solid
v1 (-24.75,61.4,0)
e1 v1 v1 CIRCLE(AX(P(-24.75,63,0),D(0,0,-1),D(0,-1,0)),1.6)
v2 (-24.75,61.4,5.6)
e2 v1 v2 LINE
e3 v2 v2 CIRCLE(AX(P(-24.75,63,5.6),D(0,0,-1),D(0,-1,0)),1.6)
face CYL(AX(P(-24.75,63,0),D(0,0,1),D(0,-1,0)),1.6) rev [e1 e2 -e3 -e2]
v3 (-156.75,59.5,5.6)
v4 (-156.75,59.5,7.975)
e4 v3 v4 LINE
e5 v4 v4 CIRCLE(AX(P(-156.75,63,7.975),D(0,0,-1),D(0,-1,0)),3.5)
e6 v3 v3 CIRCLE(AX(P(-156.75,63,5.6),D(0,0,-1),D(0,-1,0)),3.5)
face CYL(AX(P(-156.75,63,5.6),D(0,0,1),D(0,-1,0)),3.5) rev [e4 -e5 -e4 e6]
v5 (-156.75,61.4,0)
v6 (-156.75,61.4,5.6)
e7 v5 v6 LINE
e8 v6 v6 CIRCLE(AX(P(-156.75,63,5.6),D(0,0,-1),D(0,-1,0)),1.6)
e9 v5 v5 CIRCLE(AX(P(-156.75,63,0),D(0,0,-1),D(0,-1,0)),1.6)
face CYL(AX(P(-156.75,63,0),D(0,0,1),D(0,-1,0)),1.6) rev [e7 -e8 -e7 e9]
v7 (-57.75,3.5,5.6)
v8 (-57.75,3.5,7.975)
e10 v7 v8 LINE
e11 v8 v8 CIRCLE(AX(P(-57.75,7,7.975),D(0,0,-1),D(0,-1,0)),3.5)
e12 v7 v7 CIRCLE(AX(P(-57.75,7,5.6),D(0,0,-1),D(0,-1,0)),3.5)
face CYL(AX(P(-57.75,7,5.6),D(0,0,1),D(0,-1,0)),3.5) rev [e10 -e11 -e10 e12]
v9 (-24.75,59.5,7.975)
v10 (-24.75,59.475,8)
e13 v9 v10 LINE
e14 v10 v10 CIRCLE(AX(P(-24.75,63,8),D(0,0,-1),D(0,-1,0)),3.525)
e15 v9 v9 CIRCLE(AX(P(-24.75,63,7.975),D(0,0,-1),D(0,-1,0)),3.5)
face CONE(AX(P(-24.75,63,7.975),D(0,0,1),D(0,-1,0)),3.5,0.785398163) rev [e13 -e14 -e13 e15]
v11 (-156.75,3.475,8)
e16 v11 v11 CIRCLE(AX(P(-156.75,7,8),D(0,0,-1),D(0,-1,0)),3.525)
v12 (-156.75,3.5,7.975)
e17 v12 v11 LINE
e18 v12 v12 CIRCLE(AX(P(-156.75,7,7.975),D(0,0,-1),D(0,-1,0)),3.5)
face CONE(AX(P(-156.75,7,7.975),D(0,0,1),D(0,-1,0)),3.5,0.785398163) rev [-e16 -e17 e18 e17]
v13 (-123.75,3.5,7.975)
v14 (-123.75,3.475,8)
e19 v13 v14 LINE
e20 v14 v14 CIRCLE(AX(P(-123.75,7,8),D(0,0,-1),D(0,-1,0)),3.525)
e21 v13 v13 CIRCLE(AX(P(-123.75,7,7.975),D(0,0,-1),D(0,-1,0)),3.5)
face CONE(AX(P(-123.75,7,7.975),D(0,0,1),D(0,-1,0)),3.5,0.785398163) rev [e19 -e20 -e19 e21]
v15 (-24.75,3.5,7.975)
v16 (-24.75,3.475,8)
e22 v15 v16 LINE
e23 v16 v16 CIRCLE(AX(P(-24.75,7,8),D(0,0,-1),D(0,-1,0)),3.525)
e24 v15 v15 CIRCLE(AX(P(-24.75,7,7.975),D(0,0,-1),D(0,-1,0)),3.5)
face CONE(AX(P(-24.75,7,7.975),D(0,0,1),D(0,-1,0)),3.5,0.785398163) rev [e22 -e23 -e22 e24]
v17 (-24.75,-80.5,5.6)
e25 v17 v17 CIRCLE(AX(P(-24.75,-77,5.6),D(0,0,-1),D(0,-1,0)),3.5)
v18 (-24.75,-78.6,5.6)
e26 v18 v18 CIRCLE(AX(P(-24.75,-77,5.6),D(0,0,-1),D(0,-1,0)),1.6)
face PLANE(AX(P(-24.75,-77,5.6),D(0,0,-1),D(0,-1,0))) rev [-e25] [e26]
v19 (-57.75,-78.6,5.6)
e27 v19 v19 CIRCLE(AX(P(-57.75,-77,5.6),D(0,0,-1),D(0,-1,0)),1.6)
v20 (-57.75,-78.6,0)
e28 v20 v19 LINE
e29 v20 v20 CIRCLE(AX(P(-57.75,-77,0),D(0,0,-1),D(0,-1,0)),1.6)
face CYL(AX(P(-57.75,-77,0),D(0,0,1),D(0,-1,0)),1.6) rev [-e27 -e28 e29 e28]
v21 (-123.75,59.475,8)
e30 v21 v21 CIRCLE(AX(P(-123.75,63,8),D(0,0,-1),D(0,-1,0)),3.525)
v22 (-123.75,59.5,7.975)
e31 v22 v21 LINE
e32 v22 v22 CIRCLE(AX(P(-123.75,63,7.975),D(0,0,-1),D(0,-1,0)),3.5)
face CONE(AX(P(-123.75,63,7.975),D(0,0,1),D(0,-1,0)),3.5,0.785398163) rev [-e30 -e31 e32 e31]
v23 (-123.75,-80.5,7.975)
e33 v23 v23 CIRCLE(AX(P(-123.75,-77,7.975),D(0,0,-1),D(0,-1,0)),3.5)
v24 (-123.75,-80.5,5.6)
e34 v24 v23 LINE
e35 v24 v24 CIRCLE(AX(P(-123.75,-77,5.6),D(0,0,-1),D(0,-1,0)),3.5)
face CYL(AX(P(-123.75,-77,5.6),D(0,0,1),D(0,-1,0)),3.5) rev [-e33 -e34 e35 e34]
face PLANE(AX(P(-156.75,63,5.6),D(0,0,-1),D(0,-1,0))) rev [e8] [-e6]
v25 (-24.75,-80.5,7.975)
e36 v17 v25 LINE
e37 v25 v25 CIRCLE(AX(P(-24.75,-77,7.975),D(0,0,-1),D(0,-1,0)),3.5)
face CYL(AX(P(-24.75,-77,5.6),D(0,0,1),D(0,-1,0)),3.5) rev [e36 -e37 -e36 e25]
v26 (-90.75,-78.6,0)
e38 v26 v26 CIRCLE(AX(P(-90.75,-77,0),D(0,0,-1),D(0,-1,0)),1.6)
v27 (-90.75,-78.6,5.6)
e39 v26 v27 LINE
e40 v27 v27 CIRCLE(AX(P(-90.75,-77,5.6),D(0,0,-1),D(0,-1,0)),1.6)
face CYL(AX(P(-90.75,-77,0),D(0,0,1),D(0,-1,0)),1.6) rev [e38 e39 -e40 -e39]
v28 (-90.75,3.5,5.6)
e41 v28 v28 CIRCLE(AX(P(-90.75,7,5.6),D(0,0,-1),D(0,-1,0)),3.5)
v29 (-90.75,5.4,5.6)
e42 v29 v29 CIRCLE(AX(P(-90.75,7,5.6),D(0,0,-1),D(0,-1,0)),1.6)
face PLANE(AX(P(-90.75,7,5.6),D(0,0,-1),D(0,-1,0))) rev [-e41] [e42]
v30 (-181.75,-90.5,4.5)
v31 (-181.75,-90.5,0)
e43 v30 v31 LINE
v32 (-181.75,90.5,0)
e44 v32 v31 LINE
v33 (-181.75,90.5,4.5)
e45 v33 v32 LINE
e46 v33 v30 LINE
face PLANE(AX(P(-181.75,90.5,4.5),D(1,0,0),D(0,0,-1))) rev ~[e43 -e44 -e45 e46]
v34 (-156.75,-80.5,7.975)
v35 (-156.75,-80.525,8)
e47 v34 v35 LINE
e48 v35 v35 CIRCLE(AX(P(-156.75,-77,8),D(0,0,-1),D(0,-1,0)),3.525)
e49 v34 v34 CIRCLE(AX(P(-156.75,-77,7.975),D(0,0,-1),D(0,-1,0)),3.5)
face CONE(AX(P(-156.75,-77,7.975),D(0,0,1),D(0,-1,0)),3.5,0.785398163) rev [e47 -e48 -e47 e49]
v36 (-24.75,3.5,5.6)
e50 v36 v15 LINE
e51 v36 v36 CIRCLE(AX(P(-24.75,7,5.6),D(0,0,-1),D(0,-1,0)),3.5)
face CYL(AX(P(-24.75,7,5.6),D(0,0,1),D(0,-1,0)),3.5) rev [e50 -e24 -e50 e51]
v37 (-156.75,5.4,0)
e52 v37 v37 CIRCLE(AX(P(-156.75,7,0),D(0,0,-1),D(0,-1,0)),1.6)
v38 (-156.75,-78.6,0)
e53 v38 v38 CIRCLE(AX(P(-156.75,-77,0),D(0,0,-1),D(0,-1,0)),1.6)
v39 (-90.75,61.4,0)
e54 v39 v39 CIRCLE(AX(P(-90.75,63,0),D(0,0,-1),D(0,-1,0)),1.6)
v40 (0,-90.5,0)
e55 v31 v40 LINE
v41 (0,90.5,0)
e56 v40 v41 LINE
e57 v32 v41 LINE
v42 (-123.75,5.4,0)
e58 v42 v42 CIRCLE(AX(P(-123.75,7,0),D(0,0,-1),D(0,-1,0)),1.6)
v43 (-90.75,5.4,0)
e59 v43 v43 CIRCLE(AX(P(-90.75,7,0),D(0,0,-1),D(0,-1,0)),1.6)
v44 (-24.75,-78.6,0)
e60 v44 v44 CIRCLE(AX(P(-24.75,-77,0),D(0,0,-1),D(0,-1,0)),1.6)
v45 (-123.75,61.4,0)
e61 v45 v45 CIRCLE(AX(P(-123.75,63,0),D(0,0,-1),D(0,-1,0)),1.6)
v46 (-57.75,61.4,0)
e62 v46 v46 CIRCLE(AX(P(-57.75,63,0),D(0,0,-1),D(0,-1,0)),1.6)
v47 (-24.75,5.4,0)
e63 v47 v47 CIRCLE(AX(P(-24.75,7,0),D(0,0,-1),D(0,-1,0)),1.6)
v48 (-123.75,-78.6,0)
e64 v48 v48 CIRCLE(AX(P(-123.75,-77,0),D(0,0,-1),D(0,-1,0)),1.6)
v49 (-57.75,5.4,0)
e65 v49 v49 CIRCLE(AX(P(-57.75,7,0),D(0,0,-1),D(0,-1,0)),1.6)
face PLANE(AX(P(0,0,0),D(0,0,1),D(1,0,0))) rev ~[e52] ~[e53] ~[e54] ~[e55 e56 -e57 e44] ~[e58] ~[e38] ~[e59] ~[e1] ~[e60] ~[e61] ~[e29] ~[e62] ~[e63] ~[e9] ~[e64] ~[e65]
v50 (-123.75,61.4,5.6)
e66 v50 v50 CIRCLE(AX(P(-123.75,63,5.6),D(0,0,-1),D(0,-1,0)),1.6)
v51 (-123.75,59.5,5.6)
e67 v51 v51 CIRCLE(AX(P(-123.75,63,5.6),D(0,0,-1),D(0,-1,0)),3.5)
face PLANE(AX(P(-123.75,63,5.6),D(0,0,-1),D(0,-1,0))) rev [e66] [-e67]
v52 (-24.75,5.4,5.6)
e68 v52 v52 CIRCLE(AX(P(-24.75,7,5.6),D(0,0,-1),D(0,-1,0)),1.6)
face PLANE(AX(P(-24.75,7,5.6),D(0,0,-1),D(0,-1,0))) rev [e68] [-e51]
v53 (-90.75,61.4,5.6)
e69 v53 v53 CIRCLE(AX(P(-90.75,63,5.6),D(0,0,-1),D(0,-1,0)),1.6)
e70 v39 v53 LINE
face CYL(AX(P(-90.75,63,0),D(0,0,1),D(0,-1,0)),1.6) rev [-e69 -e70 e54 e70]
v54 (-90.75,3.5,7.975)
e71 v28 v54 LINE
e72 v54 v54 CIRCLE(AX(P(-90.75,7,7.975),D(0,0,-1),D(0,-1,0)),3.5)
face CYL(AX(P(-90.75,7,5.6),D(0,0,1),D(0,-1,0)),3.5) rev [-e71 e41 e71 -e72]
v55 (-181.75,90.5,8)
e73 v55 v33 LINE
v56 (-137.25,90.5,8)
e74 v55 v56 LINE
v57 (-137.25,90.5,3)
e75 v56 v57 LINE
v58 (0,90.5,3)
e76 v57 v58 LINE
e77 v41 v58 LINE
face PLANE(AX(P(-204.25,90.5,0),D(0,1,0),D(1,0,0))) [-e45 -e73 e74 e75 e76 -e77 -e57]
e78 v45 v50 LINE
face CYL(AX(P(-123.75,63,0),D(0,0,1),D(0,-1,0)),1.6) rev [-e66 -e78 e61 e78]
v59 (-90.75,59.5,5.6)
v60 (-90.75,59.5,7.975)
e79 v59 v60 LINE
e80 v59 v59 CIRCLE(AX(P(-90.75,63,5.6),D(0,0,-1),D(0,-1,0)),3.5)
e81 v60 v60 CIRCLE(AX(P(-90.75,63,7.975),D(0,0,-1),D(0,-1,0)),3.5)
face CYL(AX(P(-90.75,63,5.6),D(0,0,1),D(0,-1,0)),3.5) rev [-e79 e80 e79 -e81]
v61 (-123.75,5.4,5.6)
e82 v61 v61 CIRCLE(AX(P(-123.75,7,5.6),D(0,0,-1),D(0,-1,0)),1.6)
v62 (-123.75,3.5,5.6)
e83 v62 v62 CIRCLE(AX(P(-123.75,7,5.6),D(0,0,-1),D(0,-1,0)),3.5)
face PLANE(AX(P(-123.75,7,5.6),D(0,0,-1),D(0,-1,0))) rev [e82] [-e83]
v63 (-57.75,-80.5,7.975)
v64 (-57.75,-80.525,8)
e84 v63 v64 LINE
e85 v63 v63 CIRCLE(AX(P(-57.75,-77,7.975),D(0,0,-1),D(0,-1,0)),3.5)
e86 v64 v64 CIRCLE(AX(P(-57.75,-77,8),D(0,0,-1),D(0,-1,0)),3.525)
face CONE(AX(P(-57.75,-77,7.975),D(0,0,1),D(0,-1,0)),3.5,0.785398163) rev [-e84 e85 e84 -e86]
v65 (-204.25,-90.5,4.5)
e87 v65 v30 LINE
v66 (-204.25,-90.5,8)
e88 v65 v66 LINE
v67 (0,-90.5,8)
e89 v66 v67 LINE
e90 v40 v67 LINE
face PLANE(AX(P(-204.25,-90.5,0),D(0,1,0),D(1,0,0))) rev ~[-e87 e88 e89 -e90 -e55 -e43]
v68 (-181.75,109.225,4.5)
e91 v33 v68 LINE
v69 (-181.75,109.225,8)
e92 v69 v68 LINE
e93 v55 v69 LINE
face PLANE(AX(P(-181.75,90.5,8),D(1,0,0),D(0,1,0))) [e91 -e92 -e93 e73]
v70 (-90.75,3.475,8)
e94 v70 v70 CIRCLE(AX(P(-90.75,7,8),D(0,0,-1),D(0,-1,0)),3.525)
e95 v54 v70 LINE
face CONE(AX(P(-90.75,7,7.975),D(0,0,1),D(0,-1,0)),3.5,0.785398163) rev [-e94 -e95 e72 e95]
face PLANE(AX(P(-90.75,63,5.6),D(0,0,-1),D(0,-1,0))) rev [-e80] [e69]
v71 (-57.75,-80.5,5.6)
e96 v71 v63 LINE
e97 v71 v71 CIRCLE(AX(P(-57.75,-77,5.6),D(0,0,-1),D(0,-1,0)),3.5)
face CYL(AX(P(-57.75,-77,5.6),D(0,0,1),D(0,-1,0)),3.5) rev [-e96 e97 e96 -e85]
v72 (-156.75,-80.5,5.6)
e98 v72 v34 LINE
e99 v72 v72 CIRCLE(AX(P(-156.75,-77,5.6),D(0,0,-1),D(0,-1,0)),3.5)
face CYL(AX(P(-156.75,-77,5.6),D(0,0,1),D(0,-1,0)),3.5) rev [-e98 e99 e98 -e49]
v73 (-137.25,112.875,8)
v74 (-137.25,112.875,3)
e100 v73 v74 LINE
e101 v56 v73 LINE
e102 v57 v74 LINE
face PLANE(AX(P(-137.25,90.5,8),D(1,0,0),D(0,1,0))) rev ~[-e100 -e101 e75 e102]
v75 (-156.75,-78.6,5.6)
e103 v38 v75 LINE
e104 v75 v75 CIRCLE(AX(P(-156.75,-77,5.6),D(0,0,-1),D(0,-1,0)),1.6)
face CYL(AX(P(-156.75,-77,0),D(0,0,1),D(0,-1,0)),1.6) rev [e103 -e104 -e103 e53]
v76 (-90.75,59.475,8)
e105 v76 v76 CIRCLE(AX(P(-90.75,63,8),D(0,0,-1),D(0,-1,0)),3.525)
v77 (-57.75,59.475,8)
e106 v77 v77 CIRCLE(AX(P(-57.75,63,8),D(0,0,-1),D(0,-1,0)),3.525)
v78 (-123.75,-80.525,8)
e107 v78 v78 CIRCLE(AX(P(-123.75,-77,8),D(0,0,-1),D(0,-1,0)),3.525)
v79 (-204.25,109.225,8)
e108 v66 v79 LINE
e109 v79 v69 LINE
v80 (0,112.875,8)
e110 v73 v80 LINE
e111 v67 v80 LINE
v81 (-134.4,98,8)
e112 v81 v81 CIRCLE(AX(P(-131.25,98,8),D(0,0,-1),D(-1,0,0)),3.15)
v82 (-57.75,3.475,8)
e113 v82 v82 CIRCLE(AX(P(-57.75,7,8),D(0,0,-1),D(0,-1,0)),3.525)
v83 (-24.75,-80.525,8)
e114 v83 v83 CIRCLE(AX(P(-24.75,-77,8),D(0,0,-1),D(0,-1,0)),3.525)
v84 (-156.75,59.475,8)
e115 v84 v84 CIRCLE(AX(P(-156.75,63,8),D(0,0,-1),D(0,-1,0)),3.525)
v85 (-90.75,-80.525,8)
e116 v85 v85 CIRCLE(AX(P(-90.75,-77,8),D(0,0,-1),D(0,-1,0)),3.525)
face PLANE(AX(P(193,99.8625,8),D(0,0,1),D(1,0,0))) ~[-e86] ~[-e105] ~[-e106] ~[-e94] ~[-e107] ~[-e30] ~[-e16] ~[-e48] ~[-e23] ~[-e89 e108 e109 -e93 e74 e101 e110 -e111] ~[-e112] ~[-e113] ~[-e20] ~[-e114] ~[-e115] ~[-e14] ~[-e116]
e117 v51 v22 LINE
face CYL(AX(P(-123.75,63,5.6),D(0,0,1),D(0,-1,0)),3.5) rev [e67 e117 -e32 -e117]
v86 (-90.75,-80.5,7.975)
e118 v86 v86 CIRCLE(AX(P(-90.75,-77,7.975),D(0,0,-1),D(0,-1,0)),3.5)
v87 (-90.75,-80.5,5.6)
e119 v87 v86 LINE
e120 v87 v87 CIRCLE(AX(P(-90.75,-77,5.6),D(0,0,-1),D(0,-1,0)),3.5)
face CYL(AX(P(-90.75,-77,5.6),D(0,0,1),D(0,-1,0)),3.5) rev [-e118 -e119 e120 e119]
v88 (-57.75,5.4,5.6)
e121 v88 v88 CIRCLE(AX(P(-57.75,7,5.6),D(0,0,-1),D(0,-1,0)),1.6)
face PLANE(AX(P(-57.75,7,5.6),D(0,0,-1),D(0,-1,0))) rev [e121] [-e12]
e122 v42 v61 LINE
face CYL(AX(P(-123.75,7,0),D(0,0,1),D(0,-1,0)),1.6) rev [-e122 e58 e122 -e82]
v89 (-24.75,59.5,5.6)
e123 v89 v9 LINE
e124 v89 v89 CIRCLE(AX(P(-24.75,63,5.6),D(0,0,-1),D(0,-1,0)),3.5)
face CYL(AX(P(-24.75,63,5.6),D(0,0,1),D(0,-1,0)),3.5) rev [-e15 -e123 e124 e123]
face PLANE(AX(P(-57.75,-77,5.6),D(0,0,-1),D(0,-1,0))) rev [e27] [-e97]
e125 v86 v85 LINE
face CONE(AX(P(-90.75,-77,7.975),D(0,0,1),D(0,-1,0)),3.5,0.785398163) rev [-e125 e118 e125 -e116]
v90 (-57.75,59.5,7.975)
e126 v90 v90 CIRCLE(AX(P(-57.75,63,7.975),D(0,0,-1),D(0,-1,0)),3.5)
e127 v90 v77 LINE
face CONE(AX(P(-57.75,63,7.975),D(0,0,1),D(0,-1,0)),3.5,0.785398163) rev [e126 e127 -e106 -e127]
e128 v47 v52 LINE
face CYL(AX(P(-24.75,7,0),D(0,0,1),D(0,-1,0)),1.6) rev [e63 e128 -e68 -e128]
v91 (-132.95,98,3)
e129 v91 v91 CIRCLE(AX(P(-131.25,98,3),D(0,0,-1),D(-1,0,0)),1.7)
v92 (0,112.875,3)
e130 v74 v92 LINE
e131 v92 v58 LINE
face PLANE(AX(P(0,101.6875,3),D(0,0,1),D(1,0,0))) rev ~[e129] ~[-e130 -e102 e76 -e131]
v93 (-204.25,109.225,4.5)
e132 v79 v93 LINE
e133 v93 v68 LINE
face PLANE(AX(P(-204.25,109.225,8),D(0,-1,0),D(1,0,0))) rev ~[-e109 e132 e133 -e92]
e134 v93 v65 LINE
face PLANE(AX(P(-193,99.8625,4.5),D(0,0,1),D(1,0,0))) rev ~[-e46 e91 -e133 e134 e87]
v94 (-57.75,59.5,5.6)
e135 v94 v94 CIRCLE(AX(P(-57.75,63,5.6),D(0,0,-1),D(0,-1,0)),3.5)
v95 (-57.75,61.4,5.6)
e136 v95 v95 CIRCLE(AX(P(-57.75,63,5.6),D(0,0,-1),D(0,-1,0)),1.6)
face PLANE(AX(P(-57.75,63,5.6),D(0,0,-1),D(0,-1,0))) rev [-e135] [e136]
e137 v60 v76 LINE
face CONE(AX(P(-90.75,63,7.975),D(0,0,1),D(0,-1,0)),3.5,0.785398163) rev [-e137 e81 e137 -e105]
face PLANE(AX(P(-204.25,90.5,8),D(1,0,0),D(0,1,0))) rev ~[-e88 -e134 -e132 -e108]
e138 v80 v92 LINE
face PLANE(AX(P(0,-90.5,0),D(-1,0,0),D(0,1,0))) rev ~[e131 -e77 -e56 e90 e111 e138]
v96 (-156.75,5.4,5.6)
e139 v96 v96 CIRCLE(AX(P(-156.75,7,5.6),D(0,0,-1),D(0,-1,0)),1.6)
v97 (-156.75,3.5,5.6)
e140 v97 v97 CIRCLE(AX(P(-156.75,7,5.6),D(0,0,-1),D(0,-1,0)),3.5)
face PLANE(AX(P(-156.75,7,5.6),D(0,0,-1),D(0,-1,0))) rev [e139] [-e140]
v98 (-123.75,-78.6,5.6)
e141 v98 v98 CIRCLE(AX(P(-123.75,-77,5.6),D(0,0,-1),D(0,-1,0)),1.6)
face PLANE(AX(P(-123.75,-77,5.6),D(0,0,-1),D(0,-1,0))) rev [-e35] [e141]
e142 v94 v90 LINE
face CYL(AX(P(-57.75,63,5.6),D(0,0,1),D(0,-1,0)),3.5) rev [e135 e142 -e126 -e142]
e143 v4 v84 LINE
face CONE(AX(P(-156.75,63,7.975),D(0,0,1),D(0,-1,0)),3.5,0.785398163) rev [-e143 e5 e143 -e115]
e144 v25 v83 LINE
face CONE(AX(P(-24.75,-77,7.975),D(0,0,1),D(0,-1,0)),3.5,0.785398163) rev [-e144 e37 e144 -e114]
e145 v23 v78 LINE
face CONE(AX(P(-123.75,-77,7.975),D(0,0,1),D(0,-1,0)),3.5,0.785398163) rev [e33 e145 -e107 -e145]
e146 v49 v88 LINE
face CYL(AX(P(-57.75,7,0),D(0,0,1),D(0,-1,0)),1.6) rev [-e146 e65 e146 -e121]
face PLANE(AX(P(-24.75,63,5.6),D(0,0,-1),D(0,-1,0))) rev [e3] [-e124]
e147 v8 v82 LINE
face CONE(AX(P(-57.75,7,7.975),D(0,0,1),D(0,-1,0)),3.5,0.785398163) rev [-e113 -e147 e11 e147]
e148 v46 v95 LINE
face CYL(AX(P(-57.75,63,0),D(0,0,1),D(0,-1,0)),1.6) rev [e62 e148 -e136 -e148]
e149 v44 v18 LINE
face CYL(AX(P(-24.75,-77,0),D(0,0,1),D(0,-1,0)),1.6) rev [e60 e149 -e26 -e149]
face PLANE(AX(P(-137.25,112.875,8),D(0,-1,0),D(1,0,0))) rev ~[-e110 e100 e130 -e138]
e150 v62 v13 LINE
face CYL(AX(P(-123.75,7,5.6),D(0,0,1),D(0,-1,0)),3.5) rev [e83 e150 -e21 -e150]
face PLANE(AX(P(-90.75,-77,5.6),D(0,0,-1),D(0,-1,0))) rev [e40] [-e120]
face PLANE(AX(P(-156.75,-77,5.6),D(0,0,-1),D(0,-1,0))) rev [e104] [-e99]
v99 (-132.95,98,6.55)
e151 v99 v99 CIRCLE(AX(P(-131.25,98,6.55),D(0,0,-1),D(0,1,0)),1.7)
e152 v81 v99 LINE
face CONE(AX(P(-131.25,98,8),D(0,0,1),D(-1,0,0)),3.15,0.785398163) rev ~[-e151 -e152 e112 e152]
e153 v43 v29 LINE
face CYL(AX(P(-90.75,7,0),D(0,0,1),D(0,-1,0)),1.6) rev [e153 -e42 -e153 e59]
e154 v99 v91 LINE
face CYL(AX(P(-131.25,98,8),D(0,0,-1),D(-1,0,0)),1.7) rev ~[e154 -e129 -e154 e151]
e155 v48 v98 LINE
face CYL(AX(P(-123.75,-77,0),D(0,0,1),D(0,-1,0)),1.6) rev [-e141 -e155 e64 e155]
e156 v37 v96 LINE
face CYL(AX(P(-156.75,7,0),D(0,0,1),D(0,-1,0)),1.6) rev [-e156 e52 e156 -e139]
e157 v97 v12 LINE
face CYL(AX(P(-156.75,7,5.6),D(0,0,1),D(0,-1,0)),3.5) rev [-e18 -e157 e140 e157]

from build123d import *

# Parameters (mm, degrees)
ESQUISSE1_W                                    = 408.5
ESQUISSE1_H                                    = 181
BOSS_EXTRU_1_DEPTH                             = 8
CHAMBRAGE_POUR_VIS_T_TE_RONDE_BOMB_2_COUNT     = 2
CHAMBRAGE_POUR_VIS_T_TE_RONDE_BOMB_2_PITCH     = 56
CHAMBRAGE_POUR_VIS_T_TE_RONDE_BOMB_3_COUNT     = 2
CHAMBRAGE_POUR_VIS_T_TE_RONDE_BOMB_3_PITCH     = 140
R_P_TITION_LIN_AIRE1_COUNT                     = 11
R_P_TITION_LIN_AIRE1_PITCH                     = 33
ESQUISSE4_W                                    = 22.5
ESQUISSE4_H                                    = 4.5
ENL_V_MAT_EXTRU_1_DEPTH                        = 181
ESQUISSE5_W                                    = 22.5
ESQUISSE5_H                                    = 18.725
BOSS_EXTRU_2_DEPTH                             = 3.5
ESQUISSE7_W                                    = 274.5
ESQUISSE7_H                                    = 22.375
BOSS_EXTRU_3_DEPTH                             = 5
FRAISAGE_POUR_VIS_T_TE_FRAIS_E_M31_D           = 3.4
FRAISAGE_POUR_VIS_T_TE_FRAIS_E_M31_CSINK_D     = 6.3
FRAISAGE_POUR_VIS_T_TE_FRAIS_E_M31_CSINK_ANGLE = 90
ESQUISSE10_W                                   = 205.38975882
ESQUISSE10_H                                   = 206.796147943
ENL_V_MAT_EXTRU_2_DEPTH                        = 10


with BuildPart() as part:
    # Esquisse1 → Boss.-Extru.1 (new body)
    with BuildSketch(Plane.XY):
        Rectangle(ESQUISSE1_W, ESQUISSE1_H)
    extrude(amount=BOSS_EXTRU_1_DEPTH)

    # Esquisse3 → Chambrage pour vis à tête ronde bombée M31 (revolve, cut)
    with BuildSketch(Plane(origin=(-156.75, 63, 8), x_dir=(0, -1, 0), z_dir=(1, 0, 0))):
        Polygon((0, 0), (0, 8), (1.6, 8), (1.6, 2.4), (3.5, 2.4), (3.5, 0.025), (3.525, 0), align=None)
    chambrage_pour_vis_t_te_ronde_bomb_e_m = revolve(axis=Axis((-156.75, 63, 14.35), (0, 0, -1)), mode=Mode.SUBTRACT)

    # Chambrage pour vis _ t_te ronde bomb 2: Chambrage pour vis à tête ronde bombée M31 ×2
    with Locations(*[(0, -i * CHAMBRAGE_POUR_VIS_T_TE_RONDE_BOMB_2_PITCH, 0) for i in range(1, CHAMBRAGE_POUR_VIS_T_TE_RONDE_BOMB_2_COUNT)]):
        add(chambrage_pour_vis_t_te_ronde_bomb_e_m, mode=Mode.SUBTRACT)

    # Chambrage pour vis _ t_te ronde bomb 3: Chambrage pour vis à tête ronde bombée M31 ×2
    with Locations(*[(0, -i * CHAMBRAGE_POUR_VIS_T_TE_RONDE_BOMB_3_PITCH, 0) for i in range(1, CHAMBRAGE_POUR_VIS_T_TE_RONDE_BOMB_3_COUNT)]):
        add(chambrage_pour_vis_t_te_ronde_bomb_e_m, mode=Mode.SUBTRACT)

    # Répétition linéaire1: Chambrage pour vis à tête ronde bombée M31 ×11
    with Locations(*[(i * R_P_TITION_LIN_AIRE1_PITCH, 0, 0) for i in range(1, R_P_TITION_LIN_AIRE1_COUNT)]):
        add(chambrage_pour_vis_t_te_ronde_bomb_e_m, mode=Mode.SUBTRACT)

    # Répétition linéaire1 copy 1 sketch → Répétition linéaire1 copy 1 (revolve, cut)
    with BuildSketch(Plane(origin=(-123.75, 7, 8), x_dir=(0, -1, 0), z_dir=(1, 0, 0))):
        Polygon((0, 0), (0, 8), (1.6, 8), (1.6, 2.4), (3.5, 2.4), (3.5, 0.025), (3.525, 0), align=None)
    revolve(axis=Axis((-123.75, 7, 14.35), (0, 0, -1)), mode=Mode.SUBTRACT)

    # Répétition linéaire1 copy 2 sketch → Répétition linéaire1 copy 2 (revolve, cut)
    with BuildSketch(Plane(origin=(-90.75, 7, 8), x_dir=(0, -1, 0), z_dir=(1, 0, 0))):
        Polygon((0, 0), (0, 8), (1.6, 8), (1.6, 2.4), (3.5, 2.4), (3.5, 0.025), (3.525, 0), align=None)
    revolve(axis=Axis((-90.75, 7, 14.35), (0, 0, -1)), mode=Mode.SUBTRACT)

    # Répétition linéaire1 copy 3 sketch → Répétition linéaire1 copy 3 (revolve, cut)
    with BuildSketch(Plane(origin=(-57.75, 7, 8), x_dir=(0, -1, 0), z_dir=(1, 0, 0))):
        Polygon((0, 0), (0, 8), (1.6, 8), (1.6, 2.4), (3.5, 2.4), (3.5, 0.025), (3.525, 0), align=None)
    revolve(axis=Axis((-57.75, 7, 14.35), (0, 0, -1)), mode=Mode.SUBTRACT)

    # Répétition linéaire1 copy 4 sketch → Répétition linéaire1 copy 4 (revolve, cut)
    with BuildSketch(Plane(origin=(-24.75, 7, 8), x_dir=(0, -1, 0), z_dir=(1, 0, 0))):
        Polygon((0, 0), (0, 8), (1.6, 8), (1.6, 2.4), (3.5, 2.4), (3.5, 0.025), (3.525, 0), align=None)
    revolve(axis=Axis((-24.75, 7, 14.35), (0, 0, -1)), mode=Mode.SUBTRACT)

    # Répétition linéaire1 copy 5 sketch → Répétition linéaire1 copy 5 (revolve, cut)
    with BuildSketch(Plane(origin=(8.25, 7, 8), x_dir=(0, -1, 0), z_dir=(1, 0, 0))):
        Polygon((0, 0), (0, 8), (1.6, 8), (1.6, 2.4), (3.5, 2.4), (3.5, 0.025), (3.525, 0), align=None)
    revolve(axis=Axis((8.25, 7, 14.35), (0, 0, -1)), mode=Mode.SUBTRACT)

    # Répétition linéaire1 copy 6 sketch → Répétition linéaire1 copy 6 (revolve, cut)
    with BuildSketch(Plane(origin=(41.25, 7, 8), x_dir=(0, -1, 0), z_dir=(1, 0, 0))):
        Polygon((0, 0), (0, 8), (1.6, 8), (1.6, 2.4), (3.5, 2.4), (3.5, 0.025), (3.525, 0), align=None)
    revolve(axis=Axis((41.25, 7, 14.35), (0, 0, -1)), mode=Mode.SUBTRACT)

    # Répétition linéaire1 copy 7 sketch → Répétition linéaire1 copy 7 (revolve, cut)
    with BuildSketch(Plane(origin=(74.25, 7, 8), x_dir=(0, -1, 0), z_dir=(1, 0, 0))):
        Polygon((0, 0), (0, 8), (1.6, 8), (1.6, 2.4), (3.5, 2.4), (3.5, 0.025), (3.525, 0), align=None)
    revolve(axis=Axis((74.25, 7, 14.35), (0, 0, -1)), mode=Mode.SUBTRACT)

    # Répétition linéaire1 copy 8 sketch → Répétition linéaire1 copy 8 (revolve, cut)
    with BuildSketch(Plane(origin=(107.25, 7, 8), x_dir=(0, -1, 0), z_dir=(1, 0, 0))):
        Polygon((0, 0), (0, 8), (1.6, 8), (1.6, 2.4), (3.5, 2.4), (3.5, 0.025), (3.525, 0), align=None)
    revolve(axis=Axis((107.25, 7, 14.35), (0, 0, -1)), mode=Mode.SUBTRACT)

    # Répétition linéaire1 copy 9 sketch → Répétition linéaire1 copy 9 (revolve, cut)
    with BuildSketch(Plane(origin=(140.25, 7, 8), x_dir=(0, -1, 0), z_dir=(1, 0, 0))):
        Polygon((0, 0), (0, 8), (1.6, 8), (1.6, 2.4), (3.5, 2.4), (3.5, 0.025), (3.525, 0), align=None)
    revolve(axis=Axis((140.25, 7, 14.35), (0, 0, -1)), mode=Mode.SUBTRACT)

    # Répétition linéaire1 copy 10 sketch → Répétition linéaire1 copy 10 (revolve, cut)
    with BuildSketch(Plane(origin=(173.25, 7, 8), x_dir=(0, -1, 0), z_dir=(1, 0, 0))):
        Polygon((0, 0), (0, 8), (1.6, 8), (1.6, 2.4), (3.5, 2.4), (3.5, 0.025), (3.525, 0), align=None)
    revolve(axis=Axis((173.25, 7, 14.35), (0, 0, -1)), mode=Mode.SUBTRACT)

    # Répétition linéaire1 copy 11 sketch → Répétition linéaire1 copy 11 (revolve, cut)
    with BuildSketch(Plane(origin=(-123.75, -77, 8), x_dir=(0, -1, 0), z_dir=(1, 0, 0))):
        Polygon((0, 0), (0, 8), (1.6, 8), (1.6, 2.4), (3.5, 2.4), (3.5, 0.025), (3.525, 0), align=None)
    revolve(axis=Axis((-123.75, -77, 14.35), (0, 0, -1)), mode=Mode.SUBTRACT)

    # Répétition linéaire1 copy 12 sketch → Répétition linéaire1 copy 12 (revolve, cut)
    with BuildSketch(Plane(origin=(-90.75, -77, 8), x_dir=(0, -1, 0), z_dir=(1, 0, 0))):
        Polygon((0, 0), (0, 8), (1.6, 8), (1.6, 2.4), (3.5, 2.4), (3.5, 0.025), (3.525, 0), align=None)
    revolve(axis=Axis((-90.75, -77, 14.35), (0, 0, -1)), mode=Mode.SUBTRACT)

    # Répétition linéaire1 copy 13 sketch → Répétition linéaire1 copy 13 (revolve, cut)
    with BuildSketch(Plane(origin=(-57.75, -77, 8), x_dir=(0, -1, 0), z_dir=(1, 0, 0))):
        Polygon((0, 0), (0, 8), (1.6, 8), (1.6, 2.4), (3.5, 2.4), (3.5, 0.025), (3.525, 0), align=None)
    revolve(axis=Axis((-57.75, -77, 14.35), (0, 0, -1)), mode=Mode.SUBTRACT)

    # Répétition linéaire1 copy 14 sketch → Répétition linéaire1 copy 14 (revolve, cut)
    with BuildSketch(Plane(origin=(-24.75, -77, 8), x_dir=(0, -1, 0), z_dir=(1, 0, 0))):
        Polygon((0, 0), (0, 8), (1.6, 8), (1.6, 2.4), (3.5, 2.4), (3.5, 0.025), (3.525, 0), align=None)
    revolve(axis=Axis((-24.75, -77, 14.35), (0, 0, -1)), mode=Mode.SUBTRACT)

    # Répétition linéaire1 copy 15 sketch → Répétition linéaire1 copy 15 (revolve, cut)
    with BuildSketch(Plane(origin=(8.25, -77, 8), x_dir=(0, -1, 0), z_dir=(1, 0, 0))):
        Polygon((0, 0), (0, 8), (1.6, 8), (1.6, 2.4), (3.5, 2.4), (3.5, 0.025), (3.525, 0), align=None)
    revolve(axis=Axis((8.25, -77, 14.35), (0, 0, -1)), mode=Mode.SUBTRACT)

    # Répétition linéaire1 copy 16 sketch → Répétition linéaire1 copy 16 (revolve, cut)
    with BuildSketch(Plane(origin=(41.25, -77, 8), x_dir=(0, -1, 0), z_dir=(1, 0, 0))):
        Polygon((0, 0), (0, 8), (1.6, 8), (1.6, 2.4), (3.5, 2.4), (3.5, 0.025), (3.525, 0), align=None)
    revolve(axis=Axis((41.25, -77, 14.35), (0, 0, -1)), mode=Mode.SUBTRACT)

    # Répétition linéaire1 copy 17 sketch → Répétition linéaire1 copy 17 (revolve, cut)
    with BuildSketch(Plane(origin=(74.25, -77, 8), x_dir=(0, -1, 0), z_dir=(1, 0, 0))):
        Polygon((0, 0), (0, 8), (1.6, 8), (1.6, 2.4), (3.5, 2.4), (3.5, 0.025), (3.525, 0), align=None)
    revolve(axis=Axis((74.25, -77, 14.35), (0, 0, -1)), mode=Mode.SUBTRACT)

    # Répétition linéaire1 copy 18 sketch → Répétition linéaire1 copy 18 (revolve, cut)
    with BuildSketch(Plane(origin=(107.25, -77, 8), x_dir=(0, -1, 0), z_dir=(1, 0, 0))):
        Polygon((0, 0), (0, 8), (1.6, 8), (1.6, 2.4), (3.5, 2.4), (3.5, 0.025), (3.525, 0), align=None)
    revolve(axis=Axis((107.25, -77, 14.35), (0, 0, -1)), mode=Mode.SUBTRACT)

    # Répétition linéaire1 copy 19 sketch → Répétition linéaire1 copy 19 (revolve, cut)
    with BuildSketch(Plane(origin=(140.25, -77, 8), x_dir=(0, -1, 0), z_dir=(1, 0, 0))):
        Polygon((0, 0), (0, 8), (1.6, 8), (1.6, 2.4), (3.5, 2.4), (3.5, 0.025), (3.525, 0), align=None)
    revolve(axis=Axis((140.25, -77, 14.35), (0, 0, -1)), mode=Mode.SUBTRACT)

    # Répétition linéaire1 copy 20 sketch → Répétition linéaire1 copy 20 (revolve, cut)
    with BuildSketch(Plane(origin=(173.25, -77, 8), x_dir=(0, -1, 0), z_dir=(1, 0, 0))):
        Polygon((0, 0), (0, 8), (1.6, 8), (1.6, 2.4), (3.5, 2.4), (3.5, 0.025), (3.525, 0), align=None)
    revolve(axis=Axis((173.25, -77, 14.35), (0, 0, -1)), mode=Mode.SUBTRACT)

    # Esquisse4 → Enlèv. mat.-Extru.1 (cut)
    with BuildSketch(Plane(origin=(0, 90.5, 0), x_dir=(1, 0, 0), z_dir=(0, 1, 0))):
        with Locations((-193, -2.25)):
            Rectangle(ESQUISSE4_W, ESQUISSE4_H)
        with Locations((193, -2.25)):
            Rectangle(ESQUISSE4_W, ESQUISSE4_H)
    extrude(amount=-ENL_V_MAT_EXTRU_1_DEPTH, mode=Mode.SUBTRACT)

    # Esquisse5 → Boss.-Extru.2 (add)
    with BuildSketch(Plane.XY.offset(8)):
        with Locations((-193, 99.8625)):
            Rectangle(ESQUISSE5_W, ESQUISSE5_H)
    boss_extru_2 = extrude(amount=-BOSS_EXTRU_2_DEPTH)

    # Symétrie1: Boss.-Extru.2 across plane
    add(boss_extru_2.mirror(Plane(origin=(0, 0, 0), x_dir=(0, 0, 1), z_dir=(1, 0, 0))))

    # Esquisse7 → Boss.-Extru.3 (add)
    with BuildSketch(Plane.XY.offset(8)):
        with Locations((0, 101.6875)):
            Rectangle(ESQUISSE7_W, ESQUISSE7_H)
    extrude(amount=-BOSS_EXTRU_3_DEPTH)

    # Fraisage pour vis à tête fraisée M31 (through all)
    with Locations(Plane.XY.offset(8)):
        with Locations((-131.25, 98), (131.25, 98)):
            CounterSinkHole(FRAISAGE_POUR_VIS_T_TE_FRAIS_E_M31_D / 2, FRAISAGE_POUR_VIS_T_TE_FRAIS_E_M31_CSINK_D / 2, counter_sink_angle=FRAISAGE_POUR_VIS_T_TE_FRAIS_E_M31_CSINK_ANGLE)

    # Esquisse10 → Enlèv. mat.-Extru.2 (cut)
    with BuildSketch(Plane(origin=(0, 0, 0), x_dir=(-1, 0, 0), z_dir=(0, 0, -1))):
        with Locations((-102.69487941, 12.898073972)):
            Rectangle(ESQUISSE10_W, ESQUISSE10_H)
    extrude(amount=-ENL_V_MAT_EXTRU_2_DEPTH, mode=Mode.SUBTRACT)


solid = part.part
